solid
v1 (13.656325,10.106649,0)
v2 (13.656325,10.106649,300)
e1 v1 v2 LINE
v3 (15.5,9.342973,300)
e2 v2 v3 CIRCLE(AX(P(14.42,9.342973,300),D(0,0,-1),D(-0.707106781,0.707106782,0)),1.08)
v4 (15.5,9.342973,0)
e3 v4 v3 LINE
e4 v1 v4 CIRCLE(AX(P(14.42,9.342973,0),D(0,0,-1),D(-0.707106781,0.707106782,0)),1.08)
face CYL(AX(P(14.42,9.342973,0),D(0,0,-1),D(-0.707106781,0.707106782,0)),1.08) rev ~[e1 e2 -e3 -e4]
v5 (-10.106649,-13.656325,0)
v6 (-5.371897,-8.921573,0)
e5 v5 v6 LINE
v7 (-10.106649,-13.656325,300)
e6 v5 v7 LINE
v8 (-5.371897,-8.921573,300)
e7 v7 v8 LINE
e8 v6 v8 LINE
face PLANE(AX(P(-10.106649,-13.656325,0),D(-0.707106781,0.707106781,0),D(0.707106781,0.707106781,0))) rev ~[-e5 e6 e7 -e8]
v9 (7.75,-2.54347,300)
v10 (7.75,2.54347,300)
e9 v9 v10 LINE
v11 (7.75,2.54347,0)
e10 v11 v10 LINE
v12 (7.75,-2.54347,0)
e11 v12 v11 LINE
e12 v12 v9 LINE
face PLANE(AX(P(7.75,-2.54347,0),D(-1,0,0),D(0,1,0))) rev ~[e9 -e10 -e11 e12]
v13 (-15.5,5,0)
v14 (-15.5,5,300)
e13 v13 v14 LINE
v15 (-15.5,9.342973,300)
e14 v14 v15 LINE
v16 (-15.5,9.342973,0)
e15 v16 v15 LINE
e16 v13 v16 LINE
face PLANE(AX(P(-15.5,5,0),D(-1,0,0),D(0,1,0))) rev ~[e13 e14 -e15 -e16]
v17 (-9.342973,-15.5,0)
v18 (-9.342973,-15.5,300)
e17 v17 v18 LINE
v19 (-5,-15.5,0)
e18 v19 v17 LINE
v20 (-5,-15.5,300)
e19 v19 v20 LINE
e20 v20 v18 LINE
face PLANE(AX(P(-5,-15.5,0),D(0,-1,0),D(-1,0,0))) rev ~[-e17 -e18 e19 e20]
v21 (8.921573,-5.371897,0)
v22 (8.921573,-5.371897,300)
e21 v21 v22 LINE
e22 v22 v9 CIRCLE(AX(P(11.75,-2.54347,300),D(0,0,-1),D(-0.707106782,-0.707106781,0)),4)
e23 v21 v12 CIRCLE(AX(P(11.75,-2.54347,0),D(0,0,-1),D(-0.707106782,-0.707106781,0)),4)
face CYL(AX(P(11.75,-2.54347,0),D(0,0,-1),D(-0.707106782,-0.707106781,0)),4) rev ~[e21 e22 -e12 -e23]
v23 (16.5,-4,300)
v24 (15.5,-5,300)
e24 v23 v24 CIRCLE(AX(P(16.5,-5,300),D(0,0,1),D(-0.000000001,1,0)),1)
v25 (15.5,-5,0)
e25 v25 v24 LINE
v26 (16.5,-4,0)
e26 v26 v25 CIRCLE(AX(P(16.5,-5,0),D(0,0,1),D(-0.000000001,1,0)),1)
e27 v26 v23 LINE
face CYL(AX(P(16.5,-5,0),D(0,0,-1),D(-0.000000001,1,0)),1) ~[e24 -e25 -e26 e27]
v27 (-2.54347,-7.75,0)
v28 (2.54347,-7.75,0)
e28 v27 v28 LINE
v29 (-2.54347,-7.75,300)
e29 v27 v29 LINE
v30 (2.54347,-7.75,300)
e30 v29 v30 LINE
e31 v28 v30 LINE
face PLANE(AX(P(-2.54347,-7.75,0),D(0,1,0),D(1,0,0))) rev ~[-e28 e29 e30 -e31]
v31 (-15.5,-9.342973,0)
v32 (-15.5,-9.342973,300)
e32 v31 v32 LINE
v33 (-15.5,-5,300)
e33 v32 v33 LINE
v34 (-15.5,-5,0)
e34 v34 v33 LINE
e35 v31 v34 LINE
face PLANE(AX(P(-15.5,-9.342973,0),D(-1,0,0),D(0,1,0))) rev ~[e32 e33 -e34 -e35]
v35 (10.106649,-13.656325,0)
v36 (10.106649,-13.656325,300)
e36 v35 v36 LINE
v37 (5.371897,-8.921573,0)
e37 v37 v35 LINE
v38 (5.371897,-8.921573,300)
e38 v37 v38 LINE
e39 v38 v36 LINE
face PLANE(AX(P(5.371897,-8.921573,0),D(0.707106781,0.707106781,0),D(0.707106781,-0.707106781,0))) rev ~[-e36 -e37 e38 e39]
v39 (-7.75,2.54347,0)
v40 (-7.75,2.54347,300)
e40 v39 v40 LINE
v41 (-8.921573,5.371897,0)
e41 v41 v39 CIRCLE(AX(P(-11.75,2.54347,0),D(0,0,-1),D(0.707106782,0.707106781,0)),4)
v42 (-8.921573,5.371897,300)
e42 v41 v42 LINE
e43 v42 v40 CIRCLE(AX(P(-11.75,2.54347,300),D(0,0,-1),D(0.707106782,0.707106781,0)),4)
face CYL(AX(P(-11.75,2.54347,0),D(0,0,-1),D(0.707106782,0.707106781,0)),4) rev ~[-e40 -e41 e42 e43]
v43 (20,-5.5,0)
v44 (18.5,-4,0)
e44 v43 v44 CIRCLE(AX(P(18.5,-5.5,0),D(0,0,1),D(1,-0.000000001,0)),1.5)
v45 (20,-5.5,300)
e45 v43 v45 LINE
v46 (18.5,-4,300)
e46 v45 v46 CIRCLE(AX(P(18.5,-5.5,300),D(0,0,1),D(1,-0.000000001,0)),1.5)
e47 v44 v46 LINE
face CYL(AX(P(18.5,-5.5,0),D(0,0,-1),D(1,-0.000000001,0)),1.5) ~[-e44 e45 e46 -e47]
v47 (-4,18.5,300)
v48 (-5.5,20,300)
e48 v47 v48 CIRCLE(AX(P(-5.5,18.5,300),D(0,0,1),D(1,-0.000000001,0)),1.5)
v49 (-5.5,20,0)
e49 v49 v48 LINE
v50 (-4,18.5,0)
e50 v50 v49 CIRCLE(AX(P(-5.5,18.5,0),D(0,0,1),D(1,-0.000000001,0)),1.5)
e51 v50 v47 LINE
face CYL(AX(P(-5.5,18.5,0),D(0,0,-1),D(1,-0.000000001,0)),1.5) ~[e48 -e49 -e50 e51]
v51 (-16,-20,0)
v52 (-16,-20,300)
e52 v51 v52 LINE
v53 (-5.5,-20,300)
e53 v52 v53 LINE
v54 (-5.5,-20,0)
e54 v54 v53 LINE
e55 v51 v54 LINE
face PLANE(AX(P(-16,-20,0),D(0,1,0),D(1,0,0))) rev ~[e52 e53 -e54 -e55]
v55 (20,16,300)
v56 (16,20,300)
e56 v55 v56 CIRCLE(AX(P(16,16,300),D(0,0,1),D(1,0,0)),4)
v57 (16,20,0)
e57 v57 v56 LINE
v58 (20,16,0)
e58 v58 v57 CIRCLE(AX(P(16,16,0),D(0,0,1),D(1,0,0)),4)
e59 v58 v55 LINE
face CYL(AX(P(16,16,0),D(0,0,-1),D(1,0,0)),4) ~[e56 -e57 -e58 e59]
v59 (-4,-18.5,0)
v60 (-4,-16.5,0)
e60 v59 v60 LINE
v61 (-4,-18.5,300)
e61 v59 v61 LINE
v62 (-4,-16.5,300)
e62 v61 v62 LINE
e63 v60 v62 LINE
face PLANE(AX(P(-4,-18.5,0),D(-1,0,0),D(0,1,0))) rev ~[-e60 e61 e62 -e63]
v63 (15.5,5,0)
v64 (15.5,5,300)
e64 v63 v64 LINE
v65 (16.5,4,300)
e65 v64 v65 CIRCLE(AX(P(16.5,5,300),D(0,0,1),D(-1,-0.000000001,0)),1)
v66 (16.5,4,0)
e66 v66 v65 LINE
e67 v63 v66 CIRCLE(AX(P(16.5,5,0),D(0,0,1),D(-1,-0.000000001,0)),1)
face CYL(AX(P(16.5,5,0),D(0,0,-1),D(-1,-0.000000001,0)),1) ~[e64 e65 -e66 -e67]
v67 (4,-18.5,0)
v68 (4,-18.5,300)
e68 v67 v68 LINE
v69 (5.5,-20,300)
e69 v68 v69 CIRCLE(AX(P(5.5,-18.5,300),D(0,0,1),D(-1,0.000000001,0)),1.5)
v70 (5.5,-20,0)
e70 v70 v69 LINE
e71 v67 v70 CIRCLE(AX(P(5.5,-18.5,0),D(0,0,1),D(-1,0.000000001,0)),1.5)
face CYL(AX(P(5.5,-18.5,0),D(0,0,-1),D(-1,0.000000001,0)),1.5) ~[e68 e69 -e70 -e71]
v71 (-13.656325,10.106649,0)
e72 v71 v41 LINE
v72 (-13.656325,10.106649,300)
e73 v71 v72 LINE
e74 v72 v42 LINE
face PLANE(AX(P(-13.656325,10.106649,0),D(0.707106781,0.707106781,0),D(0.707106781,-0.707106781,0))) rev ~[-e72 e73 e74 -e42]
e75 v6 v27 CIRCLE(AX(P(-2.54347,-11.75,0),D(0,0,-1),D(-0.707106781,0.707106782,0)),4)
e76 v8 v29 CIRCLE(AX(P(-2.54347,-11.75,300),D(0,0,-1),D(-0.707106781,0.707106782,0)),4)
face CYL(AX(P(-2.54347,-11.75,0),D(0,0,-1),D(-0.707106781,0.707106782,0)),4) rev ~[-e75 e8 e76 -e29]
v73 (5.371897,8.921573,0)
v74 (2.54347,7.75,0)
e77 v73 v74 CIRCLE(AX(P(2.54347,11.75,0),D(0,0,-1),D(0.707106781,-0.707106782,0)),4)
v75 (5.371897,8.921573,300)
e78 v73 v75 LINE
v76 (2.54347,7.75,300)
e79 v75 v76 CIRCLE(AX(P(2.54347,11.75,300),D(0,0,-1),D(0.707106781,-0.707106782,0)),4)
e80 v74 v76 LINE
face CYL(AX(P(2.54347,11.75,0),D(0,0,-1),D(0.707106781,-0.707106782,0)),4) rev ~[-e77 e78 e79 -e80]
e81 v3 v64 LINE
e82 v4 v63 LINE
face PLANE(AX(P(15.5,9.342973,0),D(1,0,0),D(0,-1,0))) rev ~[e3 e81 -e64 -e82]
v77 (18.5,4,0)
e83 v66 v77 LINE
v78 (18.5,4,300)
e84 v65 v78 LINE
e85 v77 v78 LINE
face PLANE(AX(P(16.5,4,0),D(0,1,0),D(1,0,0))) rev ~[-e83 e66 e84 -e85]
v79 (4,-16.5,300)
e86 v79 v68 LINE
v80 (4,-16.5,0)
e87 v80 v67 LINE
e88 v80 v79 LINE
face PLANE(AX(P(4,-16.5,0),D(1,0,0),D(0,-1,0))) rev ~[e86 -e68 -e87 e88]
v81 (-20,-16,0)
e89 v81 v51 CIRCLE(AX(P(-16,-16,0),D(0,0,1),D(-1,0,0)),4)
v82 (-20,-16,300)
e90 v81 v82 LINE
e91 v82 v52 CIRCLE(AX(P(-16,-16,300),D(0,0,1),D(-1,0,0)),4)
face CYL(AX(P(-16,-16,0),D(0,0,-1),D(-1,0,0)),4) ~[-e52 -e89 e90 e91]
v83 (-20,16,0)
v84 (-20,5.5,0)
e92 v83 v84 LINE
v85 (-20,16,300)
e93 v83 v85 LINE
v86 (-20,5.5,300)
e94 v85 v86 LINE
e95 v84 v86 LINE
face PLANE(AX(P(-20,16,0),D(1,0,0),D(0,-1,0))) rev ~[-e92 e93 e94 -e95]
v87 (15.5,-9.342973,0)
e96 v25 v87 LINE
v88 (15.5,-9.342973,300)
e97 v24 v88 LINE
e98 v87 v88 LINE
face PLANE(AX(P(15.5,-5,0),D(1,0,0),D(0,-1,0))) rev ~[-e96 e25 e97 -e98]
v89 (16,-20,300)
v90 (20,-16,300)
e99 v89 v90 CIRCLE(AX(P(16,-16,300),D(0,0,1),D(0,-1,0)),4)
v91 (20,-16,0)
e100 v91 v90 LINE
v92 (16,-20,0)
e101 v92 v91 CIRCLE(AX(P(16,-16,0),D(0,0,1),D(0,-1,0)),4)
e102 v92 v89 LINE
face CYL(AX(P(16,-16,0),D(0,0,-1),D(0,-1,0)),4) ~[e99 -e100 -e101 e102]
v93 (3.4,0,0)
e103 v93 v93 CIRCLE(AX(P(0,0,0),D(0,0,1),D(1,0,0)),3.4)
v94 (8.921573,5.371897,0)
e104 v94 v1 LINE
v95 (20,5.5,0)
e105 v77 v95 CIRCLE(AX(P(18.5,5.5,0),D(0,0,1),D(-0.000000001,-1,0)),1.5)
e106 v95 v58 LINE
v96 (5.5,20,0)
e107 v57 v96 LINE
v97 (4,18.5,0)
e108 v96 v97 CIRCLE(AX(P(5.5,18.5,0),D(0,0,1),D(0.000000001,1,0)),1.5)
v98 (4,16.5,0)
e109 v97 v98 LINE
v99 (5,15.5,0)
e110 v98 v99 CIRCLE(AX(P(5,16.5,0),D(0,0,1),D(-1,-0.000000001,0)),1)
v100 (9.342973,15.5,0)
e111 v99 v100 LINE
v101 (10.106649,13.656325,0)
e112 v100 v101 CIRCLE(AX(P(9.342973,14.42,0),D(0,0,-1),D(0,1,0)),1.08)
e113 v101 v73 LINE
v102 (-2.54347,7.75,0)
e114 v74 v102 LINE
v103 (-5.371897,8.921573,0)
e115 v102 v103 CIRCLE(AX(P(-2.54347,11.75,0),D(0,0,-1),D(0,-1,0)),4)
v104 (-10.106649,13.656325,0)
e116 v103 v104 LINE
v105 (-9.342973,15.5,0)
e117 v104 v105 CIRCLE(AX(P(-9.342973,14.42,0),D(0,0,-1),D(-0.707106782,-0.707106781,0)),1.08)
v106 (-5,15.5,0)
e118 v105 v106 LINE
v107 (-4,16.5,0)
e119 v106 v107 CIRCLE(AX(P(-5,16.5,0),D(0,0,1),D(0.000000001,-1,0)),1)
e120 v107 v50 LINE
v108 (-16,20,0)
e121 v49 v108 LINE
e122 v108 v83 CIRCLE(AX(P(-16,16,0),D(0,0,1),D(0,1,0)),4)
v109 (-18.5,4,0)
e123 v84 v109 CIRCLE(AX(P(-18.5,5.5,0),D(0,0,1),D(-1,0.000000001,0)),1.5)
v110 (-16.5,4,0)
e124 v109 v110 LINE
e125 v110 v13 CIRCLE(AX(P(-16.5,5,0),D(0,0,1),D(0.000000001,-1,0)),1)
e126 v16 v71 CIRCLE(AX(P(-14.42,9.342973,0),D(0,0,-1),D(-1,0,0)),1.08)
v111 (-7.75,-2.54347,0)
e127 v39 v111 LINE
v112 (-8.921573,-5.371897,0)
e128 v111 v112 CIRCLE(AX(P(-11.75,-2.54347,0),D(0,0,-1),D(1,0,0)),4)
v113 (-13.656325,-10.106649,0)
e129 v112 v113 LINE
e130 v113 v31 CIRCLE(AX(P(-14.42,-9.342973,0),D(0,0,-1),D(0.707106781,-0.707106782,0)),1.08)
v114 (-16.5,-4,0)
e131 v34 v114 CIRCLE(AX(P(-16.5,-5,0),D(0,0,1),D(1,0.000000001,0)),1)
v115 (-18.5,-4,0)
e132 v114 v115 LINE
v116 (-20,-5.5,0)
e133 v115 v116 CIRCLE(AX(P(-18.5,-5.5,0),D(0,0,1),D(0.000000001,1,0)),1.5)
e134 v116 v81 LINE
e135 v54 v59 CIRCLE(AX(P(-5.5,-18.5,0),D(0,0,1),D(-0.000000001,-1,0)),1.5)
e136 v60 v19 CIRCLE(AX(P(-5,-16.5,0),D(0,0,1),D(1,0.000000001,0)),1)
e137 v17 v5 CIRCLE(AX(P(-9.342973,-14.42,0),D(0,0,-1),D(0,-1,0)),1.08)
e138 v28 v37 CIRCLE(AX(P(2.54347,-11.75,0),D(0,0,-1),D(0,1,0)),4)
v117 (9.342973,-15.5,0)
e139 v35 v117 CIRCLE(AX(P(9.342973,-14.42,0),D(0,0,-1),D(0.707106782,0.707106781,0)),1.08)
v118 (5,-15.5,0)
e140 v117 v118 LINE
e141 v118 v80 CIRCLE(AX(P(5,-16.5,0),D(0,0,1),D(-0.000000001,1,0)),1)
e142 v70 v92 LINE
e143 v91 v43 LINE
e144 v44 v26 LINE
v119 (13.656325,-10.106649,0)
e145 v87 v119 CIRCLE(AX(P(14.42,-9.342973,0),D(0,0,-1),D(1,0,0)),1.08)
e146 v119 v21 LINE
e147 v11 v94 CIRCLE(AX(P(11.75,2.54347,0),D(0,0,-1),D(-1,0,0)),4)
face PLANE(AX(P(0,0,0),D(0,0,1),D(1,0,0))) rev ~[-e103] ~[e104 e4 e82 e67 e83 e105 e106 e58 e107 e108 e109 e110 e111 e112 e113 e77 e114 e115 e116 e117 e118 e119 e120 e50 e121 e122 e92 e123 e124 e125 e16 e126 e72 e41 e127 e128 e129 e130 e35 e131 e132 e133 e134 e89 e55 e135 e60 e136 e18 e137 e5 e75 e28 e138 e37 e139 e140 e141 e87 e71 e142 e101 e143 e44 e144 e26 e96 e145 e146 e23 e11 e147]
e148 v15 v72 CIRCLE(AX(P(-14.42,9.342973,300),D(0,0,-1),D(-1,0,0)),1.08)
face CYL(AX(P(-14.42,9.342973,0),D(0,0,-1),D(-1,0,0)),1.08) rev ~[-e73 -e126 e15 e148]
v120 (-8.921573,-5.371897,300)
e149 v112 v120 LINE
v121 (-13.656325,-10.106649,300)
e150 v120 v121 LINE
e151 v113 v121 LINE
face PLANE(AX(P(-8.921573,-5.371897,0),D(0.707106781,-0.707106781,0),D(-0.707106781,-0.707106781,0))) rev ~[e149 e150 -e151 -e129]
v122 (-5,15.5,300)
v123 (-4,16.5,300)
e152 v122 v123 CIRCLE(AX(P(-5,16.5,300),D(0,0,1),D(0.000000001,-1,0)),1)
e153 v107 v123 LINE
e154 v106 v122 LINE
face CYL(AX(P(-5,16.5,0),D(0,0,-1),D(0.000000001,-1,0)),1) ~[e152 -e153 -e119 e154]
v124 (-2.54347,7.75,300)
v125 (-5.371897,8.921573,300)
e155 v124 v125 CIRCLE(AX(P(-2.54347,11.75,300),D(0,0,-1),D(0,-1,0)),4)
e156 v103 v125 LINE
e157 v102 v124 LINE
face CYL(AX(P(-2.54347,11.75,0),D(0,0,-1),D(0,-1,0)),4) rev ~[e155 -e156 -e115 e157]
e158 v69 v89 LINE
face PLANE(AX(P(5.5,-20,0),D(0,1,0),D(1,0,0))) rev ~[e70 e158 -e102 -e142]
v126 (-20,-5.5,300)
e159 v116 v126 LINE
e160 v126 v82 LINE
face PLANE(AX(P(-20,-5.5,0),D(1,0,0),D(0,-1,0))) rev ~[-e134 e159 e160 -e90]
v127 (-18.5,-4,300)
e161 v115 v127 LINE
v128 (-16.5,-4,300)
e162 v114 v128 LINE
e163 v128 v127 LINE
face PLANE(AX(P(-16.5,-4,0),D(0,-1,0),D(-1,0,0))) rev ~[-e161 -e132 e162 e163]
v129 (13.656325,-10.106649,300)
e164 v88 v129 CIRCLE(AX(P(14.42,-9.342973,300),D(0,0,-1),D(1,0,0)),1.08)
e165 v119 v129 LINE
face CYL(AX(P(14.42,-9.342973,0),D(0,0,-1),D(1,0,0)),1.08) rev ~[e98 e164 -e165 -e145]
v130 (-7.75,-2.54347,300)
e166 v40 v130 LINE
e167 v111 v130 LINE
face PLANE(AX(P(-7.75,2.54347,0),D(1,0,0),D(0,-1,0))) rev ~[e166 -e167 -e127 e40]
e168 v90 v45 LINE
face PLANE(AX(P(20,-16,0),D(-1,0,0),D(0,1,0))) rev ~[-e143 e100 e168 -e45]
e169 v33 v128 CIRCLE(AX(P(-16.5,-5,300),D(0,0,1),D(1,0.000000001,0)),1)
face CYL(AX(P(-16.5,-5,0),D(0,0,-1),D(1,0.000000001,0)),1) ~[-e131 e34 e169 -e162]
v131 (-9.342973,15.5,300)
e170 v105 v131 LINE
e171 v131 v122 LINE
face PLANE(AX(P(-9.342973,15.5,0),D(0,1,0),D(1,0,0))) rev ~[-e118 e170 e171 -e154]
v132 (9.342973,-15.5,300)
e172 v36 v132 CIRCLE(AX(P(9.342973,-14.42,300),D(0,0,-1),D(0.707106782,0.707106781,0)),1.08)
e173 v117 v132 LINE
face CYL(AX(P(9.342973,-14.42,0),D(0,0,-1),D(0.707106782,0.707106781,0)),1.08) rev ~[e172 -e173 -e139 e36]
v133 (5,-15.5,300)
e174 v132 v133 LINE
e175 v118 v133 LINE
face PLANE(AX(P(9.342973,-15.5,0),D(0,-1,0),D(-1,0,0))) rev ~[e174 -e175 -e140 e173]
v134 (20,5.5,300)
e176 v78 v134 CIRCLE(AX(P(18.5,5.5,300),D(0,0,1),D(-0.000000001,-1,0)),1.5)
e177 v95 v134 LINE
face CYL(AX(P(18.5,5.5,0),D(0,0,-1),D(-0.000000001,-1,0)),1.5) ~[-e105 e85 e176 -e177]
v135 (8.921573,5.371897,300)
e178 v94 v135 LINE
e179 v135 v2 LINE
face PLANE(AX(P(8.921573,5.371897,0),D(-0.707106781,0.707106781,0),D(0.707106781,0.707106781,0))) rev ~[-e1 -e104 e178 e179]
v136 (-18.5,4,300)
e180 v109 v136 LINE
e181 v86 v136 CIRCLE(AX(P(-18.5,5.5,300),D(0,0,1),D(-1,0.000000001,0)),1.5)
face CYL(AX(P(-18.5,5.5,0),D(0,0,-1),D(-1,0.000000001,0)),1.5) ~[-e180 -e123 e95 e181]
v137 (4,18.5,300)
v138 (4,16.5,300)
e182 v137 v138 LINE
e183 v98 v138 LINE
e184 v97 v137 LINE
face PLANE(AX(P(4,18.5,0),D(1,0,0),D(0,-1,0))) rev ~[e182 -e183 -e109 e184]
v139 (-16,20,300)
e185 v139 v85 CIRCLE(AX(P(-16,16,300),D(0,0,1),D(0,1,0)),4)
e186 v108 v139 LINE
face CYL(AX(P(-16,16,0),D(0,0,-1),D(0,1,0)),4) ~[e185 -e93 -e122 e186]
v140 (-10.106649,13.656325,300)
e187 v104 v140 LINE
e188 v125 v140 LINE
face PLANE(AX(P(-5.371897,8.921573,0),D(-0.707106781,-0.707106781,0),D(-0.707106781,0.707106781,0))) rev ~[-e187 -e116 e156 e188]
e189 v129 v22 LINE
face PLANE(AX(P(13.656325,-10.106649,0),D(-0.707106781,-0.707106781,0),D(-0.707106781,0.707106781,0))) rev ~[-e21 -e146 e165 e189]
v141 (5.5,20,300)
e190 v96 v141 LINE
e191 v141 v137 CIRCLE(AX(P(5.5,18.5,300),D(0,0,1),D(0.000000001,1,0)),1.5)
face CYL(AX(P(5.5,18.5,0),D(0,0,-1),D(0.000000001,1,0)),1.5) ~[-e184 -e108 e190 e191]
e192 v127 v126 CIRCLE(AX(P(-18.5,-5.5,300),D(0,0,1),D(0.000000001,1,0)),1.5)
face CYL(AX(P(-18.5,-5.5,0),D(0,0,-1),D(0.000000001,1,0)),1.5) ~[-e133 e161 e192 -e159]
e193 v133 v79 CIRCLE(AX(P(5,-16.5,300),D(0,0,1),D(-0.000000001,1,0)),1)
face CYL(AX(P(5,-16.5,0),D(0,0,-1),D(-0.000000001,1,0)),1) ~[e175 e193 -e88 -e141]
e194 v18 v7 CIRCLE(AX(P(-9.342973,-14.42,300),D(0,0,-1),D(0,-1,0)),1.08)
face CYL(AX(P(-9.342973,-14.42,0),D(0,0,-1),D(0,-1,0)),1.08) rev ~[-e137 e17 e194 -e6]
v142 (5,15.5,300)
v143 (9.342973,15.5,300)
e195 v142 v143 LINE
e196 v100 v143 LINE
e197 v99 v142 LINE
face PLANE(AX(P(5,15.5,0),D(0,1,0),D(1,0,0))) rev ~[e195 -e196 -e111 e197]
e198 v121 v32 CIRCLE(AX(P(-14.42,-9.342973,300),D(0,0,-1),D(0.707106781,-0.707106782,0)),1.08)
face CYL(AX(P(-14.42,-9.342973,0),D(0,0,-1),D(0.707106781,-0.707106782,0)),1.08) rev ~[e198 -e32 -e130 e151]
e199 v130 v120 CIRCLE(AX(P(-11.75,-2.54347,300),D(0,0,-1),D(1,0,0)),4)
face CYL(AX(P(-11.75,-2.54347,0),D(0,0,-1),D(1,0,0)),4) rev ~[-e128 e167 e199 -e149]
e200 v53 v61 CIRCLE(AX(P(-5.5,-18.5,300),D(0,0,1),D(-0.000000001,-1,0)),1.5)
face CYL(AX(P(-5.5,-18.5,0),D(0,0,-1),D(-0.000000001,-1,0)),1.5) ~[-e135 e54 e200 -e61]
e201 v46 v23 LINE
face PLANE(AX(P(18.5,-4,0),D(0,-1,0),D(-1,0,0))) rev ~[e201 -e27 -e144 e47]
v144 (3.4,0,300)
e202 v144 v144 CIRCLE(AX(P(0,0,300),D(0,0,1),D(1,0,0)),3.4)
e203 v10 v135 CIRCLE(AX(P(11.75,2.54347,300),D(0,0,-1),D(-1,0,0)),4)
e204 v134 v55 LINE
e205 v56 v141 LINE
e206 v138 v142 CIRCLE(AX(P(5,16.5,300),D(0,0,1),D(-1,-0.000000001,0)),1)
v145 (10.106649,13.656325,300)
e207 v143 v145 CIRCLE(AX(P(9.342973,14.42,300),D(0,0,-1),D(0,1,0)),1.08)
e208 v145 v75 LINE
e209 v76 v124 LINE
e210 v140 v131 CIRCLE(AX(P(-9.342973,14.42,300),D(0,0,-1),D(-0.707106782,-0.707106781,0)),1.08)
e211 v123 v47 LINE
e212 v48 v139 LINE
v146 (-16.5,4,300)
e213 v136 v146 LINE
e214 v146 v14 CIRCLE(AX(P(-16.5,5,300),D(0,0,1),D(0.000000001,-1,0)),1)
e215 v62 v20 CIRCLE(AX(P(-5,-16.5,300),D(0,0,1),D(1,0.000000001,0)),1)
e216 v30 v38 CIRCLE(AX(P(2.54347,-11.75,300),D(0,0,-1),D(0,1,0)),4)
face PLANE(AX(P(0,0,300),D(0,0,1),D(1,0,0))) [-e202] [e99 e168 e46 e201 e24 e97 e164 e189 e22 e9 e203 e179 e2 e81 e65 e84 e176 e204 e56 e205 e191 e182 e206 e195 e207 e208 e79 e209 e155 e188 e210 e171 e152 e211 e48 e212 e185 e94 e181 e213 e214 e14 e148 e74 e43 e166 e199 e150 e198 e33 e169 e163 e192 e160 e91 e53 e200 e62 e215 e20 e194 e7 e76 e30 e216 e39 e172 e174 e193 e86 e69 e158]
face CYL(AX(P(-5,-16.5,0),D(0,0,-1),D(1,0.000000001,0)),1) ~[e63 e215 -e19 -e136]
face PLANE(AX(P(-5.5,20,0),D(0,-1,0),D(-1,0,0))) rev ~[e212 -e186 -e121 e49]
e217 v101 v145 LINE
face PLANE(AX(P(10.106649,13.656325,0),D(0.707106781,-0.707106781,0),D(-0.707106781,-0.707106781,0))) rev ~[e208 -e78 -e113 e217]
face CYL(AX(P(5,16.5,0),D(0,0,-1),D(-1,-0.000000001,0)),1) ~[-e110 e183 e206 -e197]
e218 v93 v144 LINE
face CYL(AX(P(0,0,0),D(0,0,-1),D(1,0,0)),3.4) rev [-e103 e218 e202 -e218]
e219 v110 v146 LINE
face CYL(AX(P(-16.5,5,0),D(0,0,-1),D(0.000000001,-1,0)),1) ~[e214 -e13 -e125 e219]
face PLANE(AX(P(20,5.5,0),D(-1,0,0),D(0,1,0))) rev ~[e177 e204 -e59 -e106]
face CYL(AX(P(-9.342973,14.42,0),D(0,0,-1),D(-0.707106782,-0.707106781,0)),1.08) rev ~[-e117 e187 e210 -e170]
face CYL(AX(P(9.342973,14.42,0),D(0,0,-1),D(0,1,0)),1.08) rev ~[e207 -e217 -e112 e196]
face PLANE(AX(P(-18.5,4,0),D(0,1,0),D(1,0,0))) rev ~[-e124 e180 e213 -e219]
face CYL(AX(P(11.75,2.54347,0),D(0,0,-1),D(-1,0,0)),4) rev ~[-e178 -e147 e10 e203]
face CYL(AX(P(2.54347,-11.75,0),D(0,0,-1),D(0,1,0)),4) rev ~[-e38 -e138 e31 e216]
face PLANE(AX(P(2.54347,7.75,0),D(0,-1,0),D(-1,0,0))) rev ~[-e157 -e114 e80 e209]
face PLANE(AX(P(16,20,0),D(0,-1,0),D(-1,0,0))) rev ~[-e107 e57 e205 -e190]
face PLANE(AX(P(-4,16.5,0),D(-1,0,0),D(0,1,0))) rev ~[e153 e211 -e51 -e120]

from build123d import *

# Parameters (mm, degrees)
SKETCH1_R           = 3.4
BOSS_EXTRUDE1_DEPTH = 300


with BuildPart() as part:
    # Sketch1 → Boss-Extrude1 (new body)
    with BuildSketch(Plane.XY):
        with BuildLine():
            Line((-9.342973311, 15.5), (-5, 15.5))
            ThreePointArc((-5, 15.5), (-4.292893219, 15.792893219), (-4, 16.5))
            Line((-4, 16.5), (-4, 18.5))
            ThreePointArc((-4, 18.5), (-4.439339828, 19.560660172), (-5.5, 20))
            Line((-5.5, 20), (-16, 20))
            ThreePointArc((-16, 20), (-18.828427125, 18.828427125), (-20, 16))
            Line((-20, 16), (-20, 5.5))
            ThreePointArc((-20, 5.5), (-19.560660172, 4.439339828), (-18.5, 4))
            Line((-18.5, 4), (-16.5, 4))
            ThreePointArc((-16.5, 4), (-15.792893219, 4.292893219), (-15.5, 5))
            Line((-15.5, 5), (-15.5, 9.342973311))
            ThreePointArc((-15.5, 9.342973311), (-14.833298107, 10.340763206), (-13.656324676, 10.106648635))
            Line((-13.656324676, 10.106648635), (-8.921572875, 5.371896834))
            ThreePointArc((-8.921572875, 5.371896834), (-8.05448187, 4.074203438), (-7.75, 2.543469709))
            Line((-7.75, 2.543469709), (-7.75, -2.543469709))
            ThreePointArc((-7.75, -2.543469709), (-8.05448187, -4.074203438), (-8.921572875, -5.371896834))
            Line((-8.921572875, -5.371896834), (-13.656324676, -10.106648635))
            ThreePointArc((-13.656324676, -10.106648635), (-14.833298107, -10.340763206), (-15.5, -9.342973311))
            Line((-15.5, -9.342973311), (-15.5, -5))
            ThreePointArc((-15.5, -5), (-15.792893219, -4.292893219), (-16.5, -4))
            Line((-16.5, -4), (-18.5, -4))
            ThreePointArc((-18.5, -4), (-19.560660172, -4.439339828), (-20, -5.5))
            Line((-20, -5.5), (-20, -16))
            ThreePointArc((-20, -16), (-18.828427125, -18.828427125), (-16, -20))
            Line((-16, -20), (-5.5, -20))
            ThreePointArc((-5.5, -20), (-4.439339828, -19.560660172), (-4, -18.5))
            Line((-4, -18.5), (-4, -16.5))
            ThreePointArc((-4, -16.5), (-4.292893219, -15.792893219), (-5, -15.5))
            Line((-5, -15.5), (-9.342973311, -15.5))
            ThreePointArc((-9.342973311, -15.5), (-10.340763206, -14.833298107), (-10.106648635, -13.656324676))
            Line((-10.106648635, -13.656324676), (-5.371896834, -8.921572875))
            ThreePointArc((-5.371896834, -8.921572875), (-4.074203438, -8.05448187), (-2.543469709, -7.75))
            Line((-2.543469709, -7.75), (2.543469709, -7.75))
            ThreePointArc((2.543469709, -7.75), (4.074203438, -8.05448187), (5.371896834, -8.921572875))
            Line((5.371896834, -8.921572875), (10.106648635, -13.656324676))
            ThreePointArc((10.106648635, -13.656324676), (10.340763206, -14.833298107), (9.342973311, -15.5))
            Line((9.342973311, -15.5), (5, -15.5))
            ThreePointArc((5, -15.5), (4.292893219, -15.792893219), (4, -16.5))
            Line((4, -16.5), (4, -18.5))
            ThreePointArc((4, -18.5), (4.439339828, -19.560660172), (5.5, -20))
            Line((5.5, -20), (16, -20))
            ThreePointArc((16, -20), (18.828427125, -18.828427125), (20, -16))
            Line((20, -16), (20, -5.5))
            ThreePointArc((20, -5.5), (19.560660172, -4.439339828), (18.5, -4))
            Line((18.5, -4), (16.5, -4))
            ThreePointArc((16.5, -4), (15.792893219, -4.292893219), (15.5, -5))
            Line((15.5, -5), (15.5, -9.342973311))
            ThreePointArc((15.5, -9.342973311), (14.833298107, -10.340763206), (13.656324676, -10.106648635))
            Line((13.656324676, -10.106648635), (8.921572875, -5.371896834))
            ThreePointArc((8.921572875, -5.371896834), (8.05448187, -4.074203438), (7.75, -2.543469709))
            Line((7.75, -2.543469709), (7.75, 2.543469709))
            ThreePointArc((7.75, 2.543469709), (8.05448187, 4.074203438), (8.921572875, 5.371896834))
            Line((8.921572875, 5.371896834), (13.656324676, 10.106648635))
            ThreePointArc((13.656324676, 10.106648635), (14.833298107, 10.340763206), (15.5, 9.342973311))
            Line((15.5, 9.342973311), (15.5, 5))
            ThreePointArc((15.5, 5), (15.792893219, 4.292893219), (16.5, 4))
            Line((16.5, 4), (18.5, 4))
            ThreePointArc((18.5, 4), (19.560660172, 4.439339828), (20, 5.5))
            Line((20, 5.5), (20, 16))
            ThreePointArc((20, 16), (18.828427125, 18.828427125), (16, 20))
            Line((16, 20), (5.5, 20))
            ThreePointArc((5.5, 20), (4.439339828, 19.560660172), (4, 18.5))
            Line((4, 18.5), (4, 16.5))
            ThreePointArc((4, 16.5), (4.292893219, 15.792893219), (5, 15.5))
            Line((5, 15.5), (9.342973311, 15.5))
            ThreePointArc((9.342973311, 15.5), (10.340763206, 14.833298107), (10.106648635, 13.656324676))
            Line((10.106648635, 13.656324676), (5.371896834, 8.921572875))
            ThreePointArc((5.371896834, 8.921572875), (4.074203438, 8.05448187), (2.543469709, 7.75))
            Line((2.543469709, 7.75), (-2.543469709, 7.75))
            ThreePointArc((-2.543469709, 7.75), (-4.074203438, 8.05448187), (-5.371896834, 8.921572875))
            Line((-5.371896834, 8.921572875), (-10.106648635, 13.656324676))
            ThreePointArc((-10.106648635, 13.656324676), (-10.340763206, 14.833298107), (-9.342973311, 15.5))
        make_face()
        Circle(SKETCH1_R, mode=Mode.SUBTRACT)
    extrude(amount=BOSS_EXTRUDE1_DEPTH)


solid = part.part
